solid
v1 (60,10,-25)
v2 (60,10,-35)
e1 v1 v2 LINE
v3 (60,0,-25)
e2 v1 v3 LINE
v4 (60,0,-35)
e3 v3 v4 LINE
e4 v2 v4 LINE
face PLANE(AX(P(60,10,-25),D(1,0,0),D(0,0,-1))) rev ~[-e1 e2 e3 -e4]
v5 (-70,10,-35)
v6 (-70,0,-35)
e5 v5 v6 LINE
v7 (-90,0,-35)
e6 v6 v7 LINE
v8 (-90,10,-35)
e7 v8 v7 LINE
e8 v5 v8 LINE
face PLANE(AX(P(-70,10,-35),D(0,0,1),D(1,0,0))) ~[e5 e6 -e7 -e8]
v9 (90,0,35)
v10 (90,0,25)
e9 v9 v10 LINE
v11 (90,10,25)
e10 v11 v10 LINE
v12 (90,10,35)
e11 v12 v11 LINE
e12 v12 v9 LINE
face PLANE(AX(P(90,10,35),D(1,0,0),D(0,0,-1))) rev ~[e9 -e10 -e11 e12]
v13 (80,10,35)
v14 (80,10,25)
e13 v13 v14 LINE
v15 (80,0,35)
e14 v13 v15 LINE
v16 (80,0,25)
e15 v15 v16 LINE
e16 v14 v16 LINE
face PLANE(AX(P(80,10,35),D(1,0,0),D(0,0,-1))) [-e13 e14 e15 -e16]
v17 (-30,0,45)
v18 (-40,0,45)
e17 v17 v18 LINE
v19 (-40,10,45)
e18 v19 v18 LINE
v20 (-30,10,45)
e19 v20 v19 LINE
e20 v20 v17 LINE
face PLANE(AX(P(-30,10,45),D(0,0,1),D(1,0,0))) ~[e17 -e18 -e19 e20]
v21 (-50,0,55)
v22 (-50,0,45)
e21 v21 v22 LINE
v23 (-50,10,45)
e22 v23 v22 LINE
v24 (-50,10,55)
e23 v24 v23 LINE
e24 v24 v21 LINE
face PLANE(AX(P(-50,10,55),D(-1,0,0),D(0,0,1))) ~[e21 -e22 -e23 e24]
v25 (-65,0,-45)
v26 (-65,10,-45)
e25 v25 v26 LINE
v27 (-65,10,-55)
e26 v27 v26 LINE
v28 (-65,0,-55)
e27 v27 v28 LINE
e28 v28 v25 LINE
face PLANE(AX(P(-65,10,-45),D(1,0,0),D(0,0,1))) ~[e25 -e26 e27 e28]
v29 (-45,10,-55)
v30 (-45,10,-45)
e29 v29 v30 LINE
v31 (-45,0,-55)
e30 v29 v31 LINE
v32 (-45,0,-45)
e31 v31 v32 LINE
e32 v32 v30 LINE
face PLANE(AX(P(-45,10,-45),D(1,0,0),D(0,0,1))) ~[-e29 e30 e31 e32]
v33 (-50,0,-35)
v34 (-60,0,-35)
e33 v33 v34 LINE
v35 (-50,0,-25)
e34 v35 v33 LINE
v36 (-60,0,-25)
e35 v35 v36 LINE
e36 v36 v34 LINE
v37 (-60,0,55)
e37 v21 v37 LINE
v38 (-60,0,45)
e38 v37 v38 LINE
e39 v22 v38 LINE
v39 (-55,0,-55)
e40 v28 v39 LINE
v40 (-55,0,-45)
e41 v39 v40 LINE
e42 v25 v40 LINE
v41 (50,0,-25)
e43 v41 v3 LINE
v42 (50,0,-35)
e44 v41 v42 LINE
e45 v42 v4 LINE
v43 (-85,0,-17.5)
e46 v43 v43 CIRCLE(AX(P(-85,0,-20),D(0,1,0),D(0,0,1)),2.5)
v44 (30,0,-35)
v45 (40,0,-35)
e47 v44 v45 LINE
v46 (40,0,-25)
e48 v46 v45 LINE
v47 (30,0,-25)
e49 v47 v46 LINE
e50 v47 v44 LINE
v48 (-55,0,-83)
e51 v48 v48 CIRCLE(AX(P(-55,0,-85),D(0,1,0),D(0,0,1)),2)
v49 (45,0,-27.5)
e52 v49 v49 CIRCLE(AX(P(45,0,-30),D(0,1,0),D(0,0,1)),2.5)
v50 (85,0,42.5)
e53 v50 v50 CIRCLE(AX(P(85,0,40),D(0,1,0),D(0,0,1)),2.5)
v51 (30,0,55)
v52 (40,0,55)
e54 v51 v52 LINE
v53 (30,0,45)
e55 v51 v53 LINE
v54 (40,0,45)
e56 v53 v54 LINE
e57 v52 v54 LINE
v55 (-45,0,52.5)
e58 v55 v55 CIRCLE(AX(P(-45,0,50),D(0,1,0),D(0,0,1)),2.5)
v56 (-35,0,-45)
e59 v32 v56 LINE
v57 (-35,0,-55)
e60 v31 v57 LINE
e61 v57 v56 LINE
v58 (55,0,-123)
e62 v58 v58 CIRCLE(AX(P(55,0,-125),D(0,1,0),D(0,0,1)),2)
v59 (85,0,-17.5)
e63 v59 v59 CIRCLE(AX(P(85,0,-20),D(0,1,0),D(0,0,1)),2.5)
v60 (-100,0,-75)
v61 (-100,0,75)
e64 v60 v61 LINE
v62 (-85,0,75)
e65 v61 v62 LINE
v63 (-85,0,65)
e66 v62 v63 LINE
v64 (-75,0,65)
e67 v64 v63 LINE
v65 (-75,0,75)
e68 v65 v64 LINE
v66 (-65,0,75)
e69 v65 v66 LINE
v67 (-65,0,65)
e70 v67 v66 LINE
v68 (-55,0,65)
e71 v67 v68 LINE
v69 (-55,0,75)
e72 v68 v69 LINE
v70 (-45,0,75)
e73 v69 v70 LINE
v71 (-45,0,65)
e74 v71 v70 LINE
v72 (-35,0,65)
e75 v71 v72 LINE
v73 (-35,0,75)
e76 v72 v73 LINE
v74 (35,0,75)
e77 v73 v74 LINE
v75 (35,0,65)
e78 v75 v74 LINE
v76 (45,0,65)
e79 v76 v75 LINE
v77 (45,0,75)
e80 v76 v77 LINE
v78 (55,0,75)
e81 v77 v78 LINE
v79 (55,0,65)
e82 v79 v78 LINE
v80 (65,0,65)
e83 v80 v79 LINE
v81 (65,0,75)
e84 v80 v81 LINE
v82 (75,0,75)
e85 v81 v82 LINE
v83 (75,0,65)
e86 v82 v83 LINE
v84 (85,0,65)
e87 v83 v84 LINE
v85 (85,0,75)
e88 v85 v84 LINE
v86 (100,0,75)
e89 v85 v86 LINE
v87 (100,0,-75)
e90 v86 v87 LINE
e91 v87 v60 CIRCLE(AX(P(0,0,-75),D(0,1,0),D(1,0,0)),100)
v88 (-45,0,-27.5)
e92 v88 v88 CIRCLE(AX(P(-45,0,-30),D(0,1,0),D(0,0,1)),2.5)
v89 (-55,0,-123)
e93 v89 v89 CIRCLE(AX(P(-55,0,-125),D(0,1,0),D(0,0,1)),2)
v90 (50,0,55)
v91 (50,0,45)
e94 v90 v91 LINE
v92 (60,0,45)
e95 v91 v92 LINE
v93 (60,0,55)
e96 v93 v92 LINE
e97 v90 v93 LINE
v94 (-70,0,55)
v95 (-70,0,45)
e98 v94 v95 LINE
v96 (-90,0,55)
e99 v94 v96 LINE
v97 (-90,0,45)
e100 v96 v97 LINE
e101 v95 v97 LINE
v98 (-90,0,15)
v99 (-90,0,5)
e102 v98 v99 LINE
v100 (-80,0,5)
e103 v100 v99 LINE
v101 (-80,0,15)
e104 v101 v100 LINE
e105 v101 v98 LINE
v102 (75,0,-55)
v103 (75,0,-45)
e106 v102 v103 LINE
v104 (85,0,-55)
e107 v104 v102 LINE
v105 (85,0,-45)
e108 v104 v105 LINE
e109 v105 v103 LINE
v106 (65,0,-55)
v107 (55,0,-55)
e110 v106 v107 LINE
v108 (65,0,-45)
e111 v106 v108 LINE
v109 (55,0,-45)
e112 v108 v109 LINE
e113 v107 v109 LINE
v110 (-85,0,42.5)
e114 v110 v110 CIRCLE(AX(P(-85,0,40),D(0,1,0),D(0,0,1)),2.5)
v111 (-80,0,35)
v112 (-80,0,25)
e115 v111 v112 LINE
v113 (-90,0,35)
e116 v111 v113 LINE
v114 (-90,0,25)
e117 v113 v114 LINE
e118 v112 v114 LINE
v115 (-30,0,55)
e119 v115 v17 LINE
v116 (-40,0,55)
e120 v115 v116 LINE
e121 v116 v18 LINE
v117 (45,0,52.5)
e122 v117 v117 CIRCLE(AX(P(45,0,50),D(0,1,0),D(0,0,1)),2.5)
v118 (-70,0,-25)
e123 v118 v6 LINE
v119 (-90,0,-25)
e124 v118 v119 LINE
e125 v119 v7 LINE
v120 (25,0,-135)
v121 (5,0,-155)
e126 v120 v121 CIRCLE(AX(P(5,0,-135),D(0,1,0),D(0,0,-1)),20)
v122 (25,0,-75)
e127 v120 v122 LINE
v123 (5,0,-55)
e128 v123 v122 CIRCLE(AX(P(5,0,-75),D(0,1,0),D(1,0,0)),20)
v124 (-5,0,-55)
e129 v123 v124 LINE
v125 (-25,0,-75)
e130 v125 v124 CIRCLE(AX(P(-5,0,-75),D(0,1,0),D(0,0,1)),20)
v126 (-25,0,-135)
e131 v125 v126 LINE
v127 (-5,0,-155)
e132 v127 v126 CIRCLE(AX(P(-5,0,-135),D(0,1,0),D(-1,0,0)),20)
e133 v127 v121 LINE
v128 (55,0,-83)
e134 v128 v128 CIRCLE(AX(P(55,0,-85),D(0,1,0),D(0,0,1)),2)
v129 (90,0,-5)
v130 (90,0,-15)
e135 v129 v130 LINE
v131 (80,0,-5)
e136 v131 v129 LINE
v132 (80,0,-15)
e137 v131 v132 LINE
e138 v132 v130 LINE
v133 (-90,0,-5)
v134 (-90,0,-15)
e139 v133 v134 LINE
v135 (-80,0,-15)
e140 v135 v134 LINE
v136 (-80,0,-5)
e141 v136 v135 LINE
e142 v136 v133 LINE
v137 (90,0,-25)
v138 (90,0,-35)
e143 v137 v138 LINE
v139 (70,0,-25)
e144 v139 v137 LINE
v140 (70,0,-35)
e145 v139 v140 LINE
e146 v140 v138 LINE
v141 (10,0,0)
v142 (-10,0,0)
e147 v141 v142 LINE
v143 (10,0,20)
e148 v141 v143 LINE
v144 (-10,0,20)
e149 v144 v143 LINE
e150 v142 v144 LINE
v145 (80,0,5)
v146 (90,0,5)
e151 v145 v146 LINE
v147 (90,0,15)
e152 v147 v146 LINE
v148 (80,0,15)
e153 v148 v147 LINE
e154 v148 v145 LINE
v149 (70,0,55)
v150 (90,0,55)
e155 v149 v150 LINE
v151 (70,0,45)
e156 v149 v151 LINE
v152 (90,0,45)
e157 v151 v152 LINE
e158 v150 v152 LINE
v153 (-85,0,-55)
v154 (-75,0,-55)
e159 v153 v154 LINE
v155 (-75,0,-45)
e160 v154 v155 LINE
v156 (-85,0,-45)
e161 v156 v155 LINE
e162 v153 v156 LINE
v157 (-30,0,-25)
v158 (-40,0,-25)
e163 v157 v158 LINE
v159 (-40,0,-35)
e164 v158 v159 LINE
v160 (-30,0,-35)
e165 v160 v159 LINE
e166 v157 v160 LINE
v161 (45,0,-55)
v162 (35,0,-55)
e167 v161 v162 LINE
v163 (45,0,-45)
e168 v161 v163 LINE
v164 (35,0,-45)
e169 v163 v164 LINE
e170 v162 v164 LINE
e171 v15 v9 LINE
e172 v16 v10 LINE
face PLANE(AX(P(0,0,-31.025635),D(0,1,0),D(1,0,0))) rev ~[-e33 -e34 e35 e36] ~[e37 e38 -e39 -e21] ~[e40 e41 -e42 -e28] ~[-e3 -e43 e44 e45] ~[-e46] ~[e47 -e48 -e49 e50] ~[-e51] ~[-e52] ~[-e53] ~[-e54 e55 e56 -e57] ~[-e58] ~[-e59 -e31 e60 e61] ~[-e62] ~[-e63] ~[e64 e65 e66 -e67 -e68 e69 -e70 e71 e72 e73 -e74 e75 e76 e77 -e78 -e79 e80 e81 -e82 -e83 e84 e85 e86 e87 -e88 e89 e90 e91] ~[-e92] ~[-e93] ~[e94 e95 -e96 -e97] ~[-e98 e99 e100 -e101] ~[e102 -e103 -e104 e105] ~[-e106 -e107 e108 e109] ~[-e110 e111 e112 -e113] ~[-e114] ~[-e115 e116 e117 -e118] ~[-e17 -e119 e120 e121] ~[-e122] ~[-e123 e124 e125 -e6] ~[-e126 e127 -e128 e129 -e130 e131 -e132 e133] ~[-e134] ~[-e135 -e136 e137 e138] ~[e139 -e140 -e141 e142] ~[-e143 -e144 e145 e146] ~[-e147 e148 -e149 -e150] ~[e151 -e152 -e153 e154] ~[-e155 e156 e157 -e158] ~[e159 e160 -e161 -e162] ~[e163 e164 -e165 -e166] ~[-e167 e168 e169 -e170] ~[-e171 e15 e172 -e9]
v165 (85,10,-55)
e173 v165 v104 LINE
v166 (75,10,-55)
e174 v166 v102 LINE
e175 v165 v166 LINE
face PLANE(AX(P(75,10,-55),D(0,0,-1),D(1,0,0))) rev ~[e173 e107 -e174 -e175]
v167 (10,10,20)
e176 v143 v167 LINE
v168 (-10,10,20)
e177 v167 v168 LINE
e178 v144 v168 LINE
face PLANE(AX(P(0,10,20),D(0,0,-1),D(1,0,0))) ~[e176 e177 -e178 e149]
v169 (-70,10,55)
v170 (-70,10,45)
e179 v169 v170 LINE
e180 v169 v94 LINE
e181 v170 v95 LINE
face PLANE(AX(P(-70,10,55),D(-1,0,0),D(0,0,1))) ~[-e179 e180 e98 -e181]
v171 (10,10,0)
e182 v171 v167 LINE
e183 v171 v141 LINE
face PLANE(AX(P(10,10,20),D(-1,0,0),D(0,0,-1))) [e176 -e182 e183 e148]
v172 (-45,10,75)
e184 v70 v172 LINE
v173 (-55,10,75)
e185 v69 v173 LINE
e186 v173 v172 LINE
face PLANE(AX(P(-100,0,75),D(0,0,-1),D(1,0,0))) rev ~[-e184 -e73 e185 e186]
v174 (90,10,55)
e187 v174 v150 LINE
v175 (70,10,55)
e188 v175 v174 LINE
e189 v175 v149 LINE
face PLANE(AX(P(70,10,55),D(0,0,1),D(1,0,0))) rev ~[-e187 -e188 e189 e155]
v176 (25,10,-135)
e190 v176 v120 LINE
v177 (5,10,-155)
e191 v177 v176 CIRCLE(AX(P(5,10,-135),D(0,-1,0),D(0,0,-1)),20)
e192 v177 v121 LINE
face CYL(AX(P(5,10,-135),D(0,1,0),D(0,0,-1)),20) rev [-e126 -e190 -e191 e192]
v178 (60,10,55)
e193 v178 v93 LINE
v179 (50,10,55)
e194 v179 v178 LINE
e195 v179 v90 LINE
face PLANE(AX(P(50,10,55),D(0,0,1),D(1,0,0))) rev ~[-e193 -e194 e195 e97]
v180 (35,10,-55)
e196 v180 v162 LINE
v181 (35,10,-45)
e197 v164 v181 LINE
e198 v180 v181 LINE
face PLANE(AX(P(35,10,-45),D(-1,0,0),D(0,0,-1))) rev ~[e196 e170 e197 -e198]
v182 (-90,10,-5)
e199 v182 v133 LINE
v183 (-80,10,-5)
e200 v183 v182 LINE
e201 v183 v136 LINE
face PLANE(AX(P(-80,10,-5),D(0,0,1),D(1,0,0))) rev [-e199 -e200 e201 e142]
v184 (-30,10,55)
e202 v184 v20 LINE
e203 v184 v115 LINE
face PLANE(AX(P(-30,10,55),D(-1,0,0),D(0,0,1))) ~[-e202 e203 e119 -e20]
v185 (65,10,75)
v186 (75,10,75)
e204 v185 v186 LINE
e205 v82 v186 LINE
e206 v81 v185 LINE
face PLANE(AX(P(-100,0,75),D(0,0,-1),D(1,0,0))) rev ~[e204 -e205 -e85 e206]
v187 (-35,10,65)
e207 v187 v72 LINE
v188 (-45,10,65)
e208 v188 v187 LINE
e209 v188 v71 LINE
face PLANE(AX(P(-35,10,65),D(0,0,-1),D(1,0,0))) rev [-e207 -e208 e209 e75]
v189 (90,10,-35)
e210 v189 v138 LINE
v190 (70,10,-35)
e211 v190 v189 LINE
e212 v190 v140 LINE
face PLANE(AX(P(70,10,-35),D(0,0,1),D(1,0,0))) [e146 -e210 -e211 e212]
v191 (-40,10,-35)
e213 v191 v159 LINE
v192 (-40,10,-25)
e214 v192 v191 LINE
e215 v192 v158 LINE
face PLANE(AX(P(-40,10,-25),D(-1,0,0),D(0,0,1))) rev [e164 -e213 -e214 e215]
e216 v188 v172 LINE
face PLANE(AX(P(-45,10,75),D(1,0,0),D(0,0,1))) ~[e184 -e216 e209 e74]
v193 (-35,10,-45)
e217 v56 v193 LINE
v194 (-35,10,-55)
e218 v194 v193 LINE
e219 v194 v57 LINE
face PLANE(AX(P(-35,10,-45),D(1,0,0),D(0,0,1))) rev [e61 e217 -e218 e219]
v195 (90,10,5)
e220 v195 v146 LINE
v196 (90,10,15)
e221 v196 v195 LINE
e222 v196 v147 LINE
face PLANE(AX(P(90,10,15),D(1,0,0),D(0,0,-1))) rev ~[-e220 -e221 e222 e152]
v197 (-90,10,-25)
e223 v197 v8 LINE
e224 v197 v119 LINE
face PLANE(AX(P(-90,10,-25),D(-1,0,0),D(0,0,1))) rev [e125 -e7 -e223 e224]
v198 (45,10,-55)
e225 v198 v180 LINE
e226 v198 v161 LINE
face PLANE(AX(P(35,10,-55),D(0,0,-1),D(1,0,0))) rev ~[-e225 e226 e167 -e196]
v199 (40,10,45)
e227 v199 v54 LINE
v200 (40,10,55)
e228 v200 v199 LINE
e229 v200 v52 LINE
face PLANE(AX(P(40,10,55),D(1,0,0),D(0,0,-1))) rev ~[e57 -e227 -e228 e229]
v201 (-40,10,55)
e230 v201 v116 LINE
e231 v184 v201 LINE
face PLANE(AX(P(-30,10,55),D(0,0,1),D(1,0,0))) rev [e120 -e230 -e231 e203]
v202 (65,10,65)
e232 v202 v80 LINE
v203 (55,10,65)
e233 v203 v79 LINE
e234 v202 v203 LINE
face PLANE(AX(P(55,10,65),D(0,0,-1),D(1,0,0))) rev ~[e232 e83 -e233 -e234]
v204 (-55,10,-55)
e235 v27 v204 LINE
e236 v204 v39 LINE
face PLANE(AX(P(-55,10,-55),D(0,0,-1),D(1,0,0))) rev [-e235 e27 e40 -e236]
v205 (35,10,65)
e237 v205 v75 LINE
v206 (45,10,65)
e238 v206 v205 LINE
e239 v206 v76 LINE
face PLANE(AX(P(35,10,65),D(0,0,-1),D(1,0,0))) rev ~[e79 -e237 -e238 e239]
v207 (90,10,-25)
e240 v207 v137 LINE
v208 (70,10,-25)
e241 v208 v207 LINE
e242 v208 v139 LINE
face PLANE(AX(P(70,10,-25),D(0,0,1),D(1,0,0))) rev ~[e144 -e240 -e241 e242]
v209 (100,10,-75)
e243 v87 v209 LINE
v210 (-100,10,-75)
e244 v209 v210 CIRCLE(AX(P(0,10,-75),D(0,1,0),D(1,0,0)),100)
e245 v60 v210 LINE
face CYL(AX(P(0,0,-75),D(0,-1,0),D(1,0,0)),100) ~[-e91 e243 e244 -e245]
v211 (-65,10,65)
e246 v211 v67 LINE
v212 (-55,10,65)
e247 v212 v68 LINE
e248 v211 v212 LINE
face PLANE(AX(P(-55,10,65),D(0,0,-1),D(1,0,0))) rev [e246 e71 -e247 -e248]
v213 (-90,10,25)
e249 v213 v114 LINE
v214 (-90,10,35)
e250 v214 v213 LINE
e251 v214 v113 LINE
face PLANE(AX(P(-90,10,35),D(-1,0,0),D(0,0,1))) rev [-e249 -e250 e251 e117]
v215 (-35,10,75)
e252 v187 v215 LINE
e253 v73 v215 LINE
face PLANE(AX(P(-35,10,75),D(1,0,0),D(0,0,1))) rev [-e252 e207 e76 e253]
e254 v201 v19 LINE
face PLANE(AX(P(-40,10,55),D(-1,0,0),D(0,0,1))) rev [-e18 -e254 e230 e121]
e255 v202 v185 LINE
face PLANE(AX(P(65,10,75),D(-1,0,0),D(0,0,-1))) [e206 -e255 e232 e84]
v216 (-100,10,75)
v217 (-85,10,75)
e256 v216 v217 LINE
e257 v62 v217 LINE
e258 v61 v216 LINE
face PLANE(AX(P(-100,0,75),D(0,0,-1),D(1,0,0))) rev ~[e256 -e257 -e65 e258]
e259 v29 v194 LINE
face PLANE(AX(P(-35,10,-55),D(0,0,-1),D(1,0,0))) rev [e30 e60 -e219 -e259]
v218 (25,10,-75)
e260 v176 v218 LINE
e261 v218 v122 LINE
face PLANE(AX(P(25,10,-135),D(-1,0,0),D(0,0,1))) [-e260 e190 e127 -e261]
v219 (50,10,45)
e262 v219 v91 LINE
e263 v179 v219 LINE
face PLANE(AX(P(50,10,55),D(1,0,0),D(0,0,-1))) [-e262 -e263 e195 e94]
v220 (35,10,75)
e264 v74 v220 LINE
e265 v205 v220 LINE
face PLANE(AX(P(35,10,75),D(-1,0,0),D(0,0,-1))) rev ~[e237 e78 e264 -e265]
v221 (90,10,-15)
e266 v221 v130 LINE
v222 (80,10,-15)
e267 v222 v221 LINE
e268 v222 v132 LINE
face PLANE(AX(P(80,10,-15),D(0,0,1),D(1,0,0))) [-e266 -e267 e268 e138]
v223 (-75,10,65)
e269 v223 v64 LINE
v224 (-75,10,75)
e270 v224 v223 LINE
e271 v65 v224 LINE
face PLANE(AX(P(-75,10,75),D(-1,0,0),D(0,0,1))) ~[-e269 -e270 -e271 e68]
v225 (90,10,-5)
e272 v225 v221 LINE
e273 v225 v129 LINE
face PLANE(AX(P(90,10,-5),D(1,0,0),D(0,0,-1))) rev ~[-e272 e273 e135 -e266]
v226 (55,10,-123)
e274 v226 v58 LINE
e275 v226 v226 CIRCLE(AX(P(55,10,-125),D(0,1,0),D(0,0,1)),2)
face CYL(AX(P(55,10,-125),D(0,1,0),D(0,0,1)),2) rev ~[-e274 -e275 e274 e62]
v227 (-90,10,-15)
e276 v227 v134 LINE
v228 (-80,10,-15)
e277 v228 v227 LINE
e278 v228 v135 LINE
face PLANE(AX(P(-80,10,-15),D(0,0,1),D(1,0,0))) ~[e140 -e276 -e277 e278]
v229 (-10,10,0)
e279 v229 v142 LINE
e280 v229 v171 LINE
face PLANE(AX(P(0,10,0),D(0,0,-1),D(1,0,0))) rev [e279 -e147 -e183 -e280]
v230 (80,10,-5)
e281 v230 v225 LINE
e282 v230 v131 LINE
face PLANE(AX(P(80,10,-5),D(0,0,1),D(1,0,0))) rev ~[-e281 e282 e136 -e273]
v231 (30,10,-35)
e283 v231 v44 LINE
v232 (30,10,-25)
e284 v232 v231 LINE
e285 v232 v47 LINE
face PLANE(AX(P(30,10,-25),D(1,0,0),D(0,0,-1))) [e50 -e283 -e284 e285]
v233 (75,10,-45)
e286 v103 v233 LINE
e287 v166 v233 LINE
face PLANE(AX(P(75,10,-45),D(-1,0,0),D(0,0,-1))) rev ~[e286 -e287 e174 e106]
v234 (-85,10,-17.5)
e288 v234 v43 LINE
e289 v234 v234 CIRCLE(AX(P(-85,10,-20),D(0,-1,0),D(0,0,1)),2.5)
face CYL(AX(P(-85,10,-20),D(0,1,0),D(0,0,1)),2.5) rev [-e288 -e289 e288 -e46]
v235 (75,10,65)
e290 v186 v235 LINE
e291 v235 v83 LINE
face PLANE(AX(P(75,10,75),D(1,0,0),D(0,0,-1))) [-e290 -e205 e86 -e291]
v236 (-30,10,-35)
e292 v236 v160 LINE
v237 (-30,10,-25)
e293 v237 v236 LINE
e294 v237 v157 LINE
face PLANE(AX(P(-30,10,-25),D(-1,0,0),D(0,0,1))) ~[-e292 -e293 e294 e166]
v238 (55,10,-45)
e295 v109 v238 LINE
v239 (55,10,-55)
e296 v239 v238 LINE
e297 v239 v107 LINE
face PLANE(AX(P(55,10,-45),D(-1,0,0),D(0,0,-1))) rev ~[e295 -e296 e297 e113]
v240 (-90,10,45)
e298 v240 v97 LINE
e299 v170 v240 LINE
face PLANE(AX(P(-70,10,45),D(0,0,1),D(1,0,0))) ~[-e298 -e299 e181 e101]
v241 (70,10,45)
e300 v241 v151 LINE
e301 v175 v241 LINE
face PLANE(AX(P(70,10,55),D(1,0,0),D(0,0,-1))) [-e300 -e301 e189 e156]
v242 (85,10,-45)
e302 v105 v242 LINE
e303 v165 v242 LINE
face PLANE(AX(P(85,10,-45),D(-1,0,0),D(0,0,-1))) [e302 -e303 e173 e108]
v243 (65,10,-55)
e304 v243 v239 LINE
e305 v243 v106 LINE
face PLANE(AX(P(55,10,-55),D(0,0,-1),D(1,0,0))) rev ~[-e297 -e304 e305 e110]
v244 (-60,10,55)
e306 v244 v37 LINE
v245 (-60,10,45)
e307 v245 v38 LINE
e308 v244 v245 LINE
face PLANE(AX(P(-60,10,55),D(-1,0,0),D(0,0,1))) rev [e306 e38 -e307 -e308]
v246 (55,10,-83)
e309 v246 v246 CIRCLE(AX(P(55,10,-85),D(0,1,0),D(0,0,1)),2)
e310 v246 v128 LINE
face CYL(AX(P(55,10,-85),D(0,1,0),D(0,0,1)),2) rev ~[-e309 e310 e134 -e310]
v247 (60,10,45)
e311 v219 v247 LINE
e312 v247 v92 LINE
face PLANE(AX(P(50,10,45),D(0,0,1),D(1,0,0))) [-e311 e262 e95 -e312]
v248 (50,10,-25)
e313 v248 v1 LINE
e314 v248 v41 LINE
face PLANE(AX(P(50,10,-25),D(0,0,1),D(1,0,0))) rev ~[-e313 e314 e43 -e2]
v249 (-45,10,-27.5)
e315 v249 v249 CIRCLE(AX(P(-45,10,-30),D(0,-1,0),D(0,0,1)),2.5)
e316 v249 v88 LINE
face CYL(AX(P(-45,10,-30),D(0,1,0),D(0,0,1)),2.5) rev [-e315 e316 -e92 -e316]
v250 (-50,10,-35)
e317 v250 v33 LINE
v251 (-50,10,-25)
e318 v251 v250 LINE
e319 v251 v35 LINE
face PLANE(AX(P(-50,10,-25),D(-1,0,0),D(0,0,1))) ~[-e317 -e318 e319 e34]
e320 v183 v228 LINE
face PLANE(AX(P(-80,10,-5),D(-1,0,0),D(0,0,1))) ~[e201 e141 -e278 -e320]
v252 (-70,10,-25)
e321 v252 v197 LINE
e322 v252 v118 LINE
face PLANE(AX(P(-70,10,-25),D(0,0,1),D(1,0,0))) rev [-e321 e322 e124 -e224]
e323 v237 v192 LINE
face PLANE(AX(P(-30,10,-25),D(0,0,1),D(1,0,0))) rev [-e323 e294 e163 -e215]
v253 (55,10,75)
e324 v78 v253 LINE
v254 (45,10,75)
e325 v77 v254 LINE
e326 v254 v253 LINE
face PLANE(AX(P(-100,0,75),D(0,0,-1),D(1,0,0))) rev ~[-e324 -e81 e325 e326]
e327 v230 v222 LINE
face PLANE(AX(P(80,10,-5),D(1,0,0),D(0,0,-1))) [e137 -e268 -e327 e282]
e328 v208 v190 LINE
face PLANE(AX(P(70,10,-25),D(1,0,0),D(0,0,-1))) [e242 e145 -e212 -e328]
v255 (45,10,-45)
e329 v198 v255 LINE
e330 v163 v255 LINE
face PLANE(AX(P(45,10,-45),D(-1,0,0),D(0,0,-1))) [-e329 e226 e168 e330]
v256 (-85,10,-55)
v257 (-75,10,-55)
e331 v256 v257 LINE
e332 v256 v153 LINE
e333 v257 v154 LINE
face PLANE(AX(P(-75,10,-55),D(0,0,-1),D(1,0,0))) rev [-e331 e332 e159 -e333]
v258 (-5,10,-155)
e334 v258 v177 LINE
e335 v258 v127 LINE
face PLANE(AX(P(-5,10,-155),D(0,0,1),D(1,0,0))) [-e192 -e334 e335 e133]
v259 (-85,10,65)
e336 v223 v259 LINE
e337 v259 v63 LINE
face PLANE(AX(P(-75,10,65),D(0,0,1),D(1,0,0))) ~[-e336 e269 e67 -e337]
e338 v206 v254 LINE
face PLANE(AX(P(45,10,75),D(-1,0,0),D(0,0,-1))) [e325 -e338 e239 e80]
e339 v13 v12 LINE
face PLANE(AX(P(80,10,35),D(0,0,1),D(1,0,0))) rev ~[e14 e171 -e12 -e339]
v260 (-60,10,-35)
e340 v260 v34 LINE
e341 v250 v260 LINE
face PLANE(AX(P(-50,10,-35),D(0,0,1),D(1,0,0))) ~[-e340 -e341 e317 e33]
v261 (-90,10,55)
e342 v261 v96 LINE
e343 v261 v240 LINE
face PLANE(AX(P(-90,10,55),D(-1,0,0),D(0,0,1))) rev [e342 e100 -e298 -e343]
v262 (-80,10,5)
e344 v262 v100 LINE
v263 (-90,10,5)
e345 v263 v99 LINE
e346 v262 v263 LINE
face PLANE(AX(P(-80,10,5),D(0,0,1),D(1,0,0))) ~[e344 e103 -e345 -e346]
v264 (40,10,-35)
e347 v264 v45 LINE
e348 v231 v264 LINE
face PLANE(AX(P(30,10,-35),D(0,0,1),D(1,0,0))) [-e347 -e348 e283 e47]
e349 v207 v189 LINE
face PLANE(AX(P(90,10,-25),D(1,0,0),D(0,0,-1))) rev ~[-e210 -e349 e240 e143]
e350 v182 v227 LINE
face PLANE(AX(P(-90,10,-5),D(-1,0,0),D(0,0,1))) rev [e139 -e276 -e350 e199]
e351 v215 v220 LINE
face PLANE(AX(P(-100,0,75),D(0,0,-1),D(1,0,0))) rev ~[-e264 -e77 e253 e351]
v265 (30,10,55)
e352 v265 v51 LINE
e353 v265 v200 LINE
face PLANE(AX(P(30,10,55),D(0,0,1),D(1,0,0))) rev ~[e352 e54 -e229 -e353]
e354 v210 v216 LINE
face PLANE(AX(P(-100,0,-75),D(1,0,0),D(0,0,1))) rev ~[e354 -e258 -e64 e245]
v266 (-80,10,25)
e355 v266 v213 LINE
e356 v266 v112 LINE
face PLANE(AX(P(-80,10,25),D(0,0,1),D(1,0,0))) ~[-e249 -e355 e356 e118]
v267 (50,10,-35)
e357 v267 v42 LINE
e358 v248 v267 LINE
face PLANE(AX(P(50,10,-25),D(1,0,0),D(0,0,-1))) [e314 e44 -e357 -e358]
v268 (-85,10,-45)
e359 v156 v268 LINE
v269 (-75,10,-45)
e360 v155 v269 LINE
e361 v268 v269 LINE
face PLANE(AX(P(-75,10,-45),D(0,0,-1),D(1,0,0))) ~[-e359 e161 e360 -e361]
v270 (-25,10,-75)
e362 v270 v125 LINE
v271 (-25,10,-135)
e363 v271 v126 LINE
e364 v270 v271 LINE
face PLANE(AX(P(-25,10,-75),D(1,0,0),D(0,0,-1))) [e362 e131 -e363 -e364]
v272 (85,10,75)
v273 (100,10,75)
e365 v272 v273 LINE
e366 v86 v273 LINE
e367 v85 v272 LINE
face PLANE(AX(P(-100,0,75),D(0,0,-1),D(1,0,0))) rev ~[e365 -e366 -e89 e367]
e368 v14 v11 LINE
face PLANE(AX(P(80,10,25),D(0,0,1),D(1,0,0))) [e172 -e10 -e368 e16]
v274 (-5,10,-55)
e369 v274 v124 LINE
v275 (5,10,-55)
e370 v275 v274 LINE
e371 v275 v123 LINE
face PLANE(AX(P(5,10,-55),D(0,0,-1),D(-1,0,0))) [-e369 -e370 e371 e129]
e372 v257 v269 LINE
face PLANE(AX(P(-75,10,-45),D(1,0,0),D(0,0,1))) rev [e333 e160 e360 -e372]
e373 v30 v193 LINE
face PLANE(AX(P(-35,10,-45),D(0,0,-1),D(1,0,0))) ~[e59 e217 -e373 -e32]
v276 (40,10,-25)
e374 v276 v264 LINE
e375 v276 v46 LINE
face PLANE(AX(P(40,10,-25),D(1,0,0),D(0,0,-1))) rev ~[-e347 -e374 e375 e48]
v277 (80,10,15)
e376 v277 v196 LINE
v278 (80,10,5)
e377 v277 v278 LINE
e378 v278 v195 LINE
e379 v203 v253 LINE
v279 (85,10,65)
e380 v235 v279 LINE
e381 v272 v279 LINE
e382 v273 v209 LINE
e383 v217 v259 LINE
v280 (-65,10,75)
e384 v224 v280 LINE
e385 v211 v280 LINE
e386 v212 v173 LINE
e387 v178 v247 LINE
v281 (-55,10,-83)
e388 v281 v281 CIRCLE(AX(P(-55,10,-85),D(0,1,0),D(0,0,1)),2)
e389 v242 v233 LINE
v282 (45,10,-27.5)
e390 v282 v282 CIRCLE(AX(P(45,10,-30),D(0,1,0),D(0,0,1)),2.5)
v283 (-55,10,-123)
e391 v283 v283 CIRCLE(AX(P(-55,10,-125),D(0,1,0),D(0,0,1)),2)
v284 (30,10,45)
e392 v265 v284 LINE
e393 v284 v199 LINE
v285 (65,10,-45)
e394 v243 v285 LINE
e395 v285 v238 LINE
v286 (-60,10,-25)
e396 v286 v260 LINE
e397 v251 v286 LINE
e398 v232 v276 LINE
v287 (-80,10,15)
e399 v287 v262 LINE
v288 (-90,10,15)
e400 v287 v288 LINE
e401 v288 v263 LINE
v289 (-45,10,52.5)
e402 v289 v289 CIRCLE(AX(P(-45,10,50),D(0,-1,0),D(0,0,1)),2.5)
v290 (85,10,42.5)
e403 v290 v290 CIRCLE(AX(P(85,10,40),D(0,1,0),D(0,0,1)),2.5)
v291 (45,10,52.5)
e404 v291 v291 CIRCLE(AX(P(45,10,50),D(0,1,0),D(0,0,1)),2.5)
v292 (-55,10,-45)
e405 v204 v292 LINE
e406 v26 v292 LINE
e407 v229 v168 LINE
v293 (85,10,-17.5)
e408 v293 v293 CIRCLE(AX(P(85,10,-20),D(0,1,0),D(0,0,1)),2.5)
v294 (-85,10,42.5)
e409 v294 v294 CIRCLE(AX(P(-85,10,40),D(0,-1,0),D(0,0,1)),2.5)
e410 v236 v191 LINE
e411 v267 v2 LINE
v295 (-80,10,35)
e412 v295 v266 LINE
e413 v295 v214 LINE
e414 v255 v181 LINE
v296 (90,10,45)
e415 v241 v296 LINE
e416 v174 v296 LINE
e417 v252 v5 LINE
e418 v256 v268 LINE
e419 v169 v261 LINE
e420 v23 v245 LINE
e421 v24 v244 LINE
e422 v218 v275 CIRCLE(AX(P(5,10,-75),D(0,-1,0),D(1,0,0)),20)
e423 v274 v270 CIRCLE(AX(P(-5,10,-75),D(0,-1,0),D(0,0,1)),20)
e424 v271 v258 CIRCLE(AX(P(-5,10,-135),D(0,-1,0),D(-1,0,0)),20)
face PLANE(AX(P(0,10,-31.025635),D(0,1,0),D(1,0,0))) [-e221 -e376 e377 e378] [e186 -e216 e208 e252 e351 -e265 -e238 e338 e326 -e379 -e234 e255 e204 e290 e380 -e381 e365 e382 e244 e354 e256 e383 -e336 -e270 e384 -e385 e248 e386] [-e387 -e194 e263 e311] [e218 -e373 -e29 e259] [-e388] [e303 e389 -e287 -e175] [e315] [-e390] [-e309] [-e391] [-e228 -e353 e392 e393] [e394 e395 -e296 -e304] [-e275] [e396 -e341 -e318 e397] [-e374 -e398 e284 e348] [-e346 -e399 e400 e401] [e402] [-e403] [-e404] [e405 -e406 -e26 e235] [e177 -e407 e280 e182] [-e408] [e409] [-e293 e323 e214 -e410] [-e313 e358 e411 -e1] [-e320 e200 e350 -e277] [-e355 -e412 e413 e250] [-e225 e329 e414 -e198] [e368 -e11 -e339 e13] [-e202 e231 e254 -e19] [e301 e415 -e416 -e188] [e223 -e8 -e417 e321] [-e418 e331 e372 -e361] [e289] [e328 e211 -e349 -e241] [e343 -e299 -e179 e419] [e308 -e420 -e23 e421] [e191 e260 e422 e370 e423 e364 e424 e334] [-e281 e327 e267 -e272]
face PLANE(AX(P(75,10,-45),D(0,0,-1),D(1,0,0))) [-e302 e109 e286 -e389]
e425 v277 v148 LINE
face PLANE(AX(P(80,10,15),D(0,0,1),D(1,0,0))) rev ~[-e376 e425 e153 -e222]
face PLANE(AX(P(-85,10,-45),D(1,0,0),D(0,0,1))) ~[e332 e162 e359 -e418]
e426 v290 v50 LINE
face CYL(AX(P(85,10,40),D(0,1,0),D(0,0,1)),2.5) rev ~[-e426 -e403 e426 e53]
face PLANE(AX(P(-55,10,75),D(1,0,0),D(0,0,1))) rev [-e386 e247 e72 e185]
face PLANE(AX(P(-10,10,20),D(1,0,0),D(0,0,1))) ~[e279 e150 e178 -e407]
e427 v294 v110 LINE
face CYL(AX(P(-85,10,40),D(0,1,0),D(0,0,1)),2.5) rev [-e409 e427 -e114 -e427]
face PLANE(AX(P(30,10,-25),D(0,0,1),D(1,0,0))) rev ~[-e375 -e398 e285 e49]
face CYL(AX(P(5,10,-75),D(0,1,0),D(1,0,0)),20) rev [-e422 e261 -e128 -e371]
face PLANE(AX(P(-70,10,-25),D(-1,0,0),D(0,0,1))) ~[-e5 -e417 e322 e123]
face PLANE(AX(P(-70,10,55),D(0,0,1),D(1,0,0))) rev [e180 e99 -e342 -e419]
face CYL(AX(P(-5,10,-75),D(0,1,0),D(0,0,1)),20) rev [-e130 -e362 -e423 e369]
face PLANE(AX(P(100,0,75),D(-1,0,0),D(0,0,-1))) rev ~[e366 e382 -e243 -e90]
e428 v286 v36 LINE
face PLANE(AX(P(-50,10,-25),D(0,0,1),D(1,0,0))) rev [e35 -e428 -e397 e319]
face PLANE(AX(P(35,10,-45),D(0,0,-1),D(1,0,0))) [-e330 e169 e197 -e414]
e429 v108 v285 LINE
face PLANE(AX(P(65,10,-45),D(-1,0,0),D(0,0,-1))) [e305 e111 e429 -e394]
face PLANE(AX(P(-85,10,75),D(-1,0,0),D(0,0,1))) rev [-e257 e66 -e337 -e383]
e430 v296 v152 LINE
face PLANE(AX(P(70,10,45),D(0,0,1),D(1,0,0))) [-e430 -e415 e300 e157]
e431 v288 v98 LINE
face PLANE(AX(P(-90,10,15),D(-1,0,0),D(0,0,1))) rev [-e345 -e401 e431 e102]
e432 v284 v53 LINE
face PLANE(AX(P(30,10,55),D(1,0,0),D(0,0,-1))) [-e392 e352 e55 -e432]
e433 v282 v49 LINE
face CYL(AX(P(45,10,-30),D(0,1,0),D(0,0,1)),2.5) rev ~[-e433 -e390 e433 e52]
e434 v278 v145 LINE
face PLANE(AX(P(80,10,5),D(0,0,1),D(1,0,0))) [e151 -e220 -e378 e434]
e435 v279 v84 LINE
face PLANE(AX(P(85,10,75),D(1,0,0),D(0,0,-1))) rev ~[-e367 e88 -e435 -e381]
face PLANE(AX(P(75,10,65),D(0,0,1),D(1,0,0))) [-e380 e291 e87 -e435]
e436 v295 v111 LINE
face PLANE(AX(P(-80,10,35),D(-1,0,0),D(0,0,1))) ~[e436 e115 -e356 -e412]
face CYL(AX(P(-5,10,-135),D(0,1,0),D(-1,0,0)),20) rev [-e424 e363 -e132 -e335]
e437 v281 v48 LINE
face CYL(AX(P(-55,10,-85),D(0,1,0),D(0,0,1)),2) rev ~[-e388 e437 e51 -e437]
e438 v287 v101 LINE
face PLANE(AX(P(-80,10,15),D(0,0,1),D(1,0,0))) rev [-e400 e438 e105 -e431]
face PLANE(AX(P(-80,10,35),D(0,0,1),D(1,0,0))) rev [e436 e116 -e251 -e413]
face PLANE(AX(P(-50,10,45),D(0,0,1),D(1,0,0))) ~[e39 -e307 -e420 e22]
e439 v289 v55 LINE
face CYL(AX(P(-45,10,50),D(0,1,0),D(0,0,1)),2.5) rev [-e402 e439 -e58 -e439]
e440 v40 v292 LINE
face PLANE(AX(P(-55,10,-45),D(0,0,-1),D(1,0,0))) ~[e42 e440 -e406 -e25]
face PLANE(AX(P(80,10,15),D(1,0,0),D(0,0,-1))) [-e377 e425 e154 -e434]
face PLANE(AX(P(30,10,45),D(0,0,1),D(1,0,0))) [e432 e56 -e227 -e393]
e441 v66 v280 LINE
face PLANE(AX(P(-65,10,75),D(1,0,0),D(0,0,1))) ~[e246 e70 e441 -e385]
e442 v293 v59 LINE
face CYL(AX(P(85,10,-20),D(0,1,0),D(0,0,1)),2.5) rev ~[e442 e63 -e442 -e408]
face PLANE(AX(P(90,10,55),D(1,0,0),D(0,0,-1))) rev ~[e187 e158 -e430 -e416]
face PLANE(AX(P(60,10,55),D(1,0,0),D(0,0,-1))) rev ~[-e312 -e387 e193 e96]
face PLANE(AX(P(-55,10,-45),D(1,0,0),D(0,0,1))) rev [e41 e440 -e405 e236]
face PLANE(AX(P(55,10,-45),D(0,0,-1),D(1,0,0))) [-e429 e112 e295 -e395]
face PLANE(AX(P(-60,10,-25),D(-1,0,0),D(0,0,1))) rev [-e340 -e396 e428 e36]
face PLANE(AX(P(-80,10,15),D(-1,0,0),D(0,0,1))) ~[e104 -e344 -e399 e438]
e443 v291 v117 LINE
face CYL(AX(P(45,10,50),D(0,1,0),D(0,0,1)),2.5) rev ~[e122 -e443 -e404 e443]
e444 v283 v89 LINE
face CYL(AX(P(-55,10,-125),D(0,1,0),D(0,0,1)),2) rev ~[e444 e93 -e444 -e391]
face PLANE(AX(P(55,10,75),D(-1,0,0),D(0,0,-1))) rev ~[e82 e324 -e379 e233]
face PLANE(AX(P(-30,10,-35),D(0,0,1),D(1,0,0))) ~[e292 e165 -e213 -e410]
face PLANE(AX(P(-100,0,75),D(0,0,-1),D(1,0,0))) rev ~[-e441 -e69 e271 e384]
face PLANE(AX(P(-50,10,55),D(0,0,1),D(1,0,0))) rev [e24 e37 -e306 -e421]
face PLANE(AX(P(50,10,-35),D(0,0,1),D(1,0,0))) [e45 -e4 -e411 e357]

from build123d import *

# Parameters (mm, degrees)
BOSS_EXTRUDE1_DEPTH = 10
SKETCH2_R           = 2.5
SKETCH2_W           = 10
SKETCH2_H           = 10
SKETCH2_W_2         = 20
CUT_EXTRUDE1_DEPTH  = 202.804360706
SKETCH4_R           = 2
CUT_EXTRUDE2_DEPTH  = 202.804360706
SKETCH5_W           = 10
SKETCH5_H           = 10
SKETCH5_H_2         = 20
CUT_EXTRUDE3_DEPTH  = 202.804360706


with BuildPart() as part:
    # Sketch3 → Boss-Extrude1 (new body)
    with BuildSketch(Plane(origin=(0, 0, 0), x_dir=(1, 0, 0), z_dir=(0, 1, 0))):
        with BuildLine():
            Line((-100, -75), (100, -75))
            Line((100, -75), (100, 75))
            ThreePointArc((100, 75), (0, 175), (-100, 75))
            Line((-100, 75), (-100, -75))
        make_face()
    extrude(amount=BOSS_EXTRUDE1_DEPTH)

    # Sketch2 → Cut-Extrude1 (cut, through all)
    with BuildSketch(Plane(origin=(0, 10, 0), x_dir=(1, 0, 0), z_dir=(0, 1, 0))):
        with Locations(Location((45, 30, 0), (0, 0, 270))):
            Circle(SKETCH2_R)
        with Locations(Location((45, -50, 0), (0, 0, 270))):
            Circle(SKETCH2_R)
        with Locations(Location((85, -40, 0), (0, 0, 270))):
            Circle(SKETCH2_R)
        with Locations(Location((85, 20, 0), (0, 0, 270))):
            Circle(SKETCH2_R)
        with Locations((35, -50)):
            Rectangle(SKETCH2_W, SKETCH2_H)
        with Locations((55, -50)):
            Rectangle(SKETCH2_W, SKETCH2_H)
        with Locations((80, -50)):
            Rectangle(SKETCH2_W_2, SKETCH2_H)
        with Locations((85, -30)):
            Rectangle(SKETCH2_W, SKETCH2_H)
        with Locations((85, -10)):
            Rectangle(SKETCH2_W, SKETCH2_H)
        with Locations((85, 10)):
            Rectangle(SKETCH2_W, SKETCH2_H)
        with Locations((80, 30)):
            Rectangle(SKETCH2_W_2, SKETCH2_H)
        with Locations((55, 30)):
            Rectangle(SKETCH2_W, SKETCH2_H)
        with Locations((35, 30)):
            Rectangle(SKETCH2_W, SKETCH2_H)
    cut_extrude1 = extrude(amount=-CUT_EXTRUDE1_DEPTH, mode=Mode.SUBTRACT)

    # Mirror1: Cut-Extrude1 across plane
    add(cut_extrude1.mirror(Plane(origin=(0, 0, 0), x_dir=(0, 0, 1), z_dir=(1, 0, 0))), mode=Mode.SUBTRACT)

    # Sketch4 → Cut-Extrude2 (cut, through all)
    with BuildSketch(Plane(origin=(0, 10, 0), x_dir=(1, 0, 0), z_dir=(0, 1, 0))):
        with Locations(Location((55, 125, 0), (0, 0, 270))):
            Circle(SKETCH4_R)
        with Locations(Location((55, 85, 0), (0, 0, 270))):
            Circle(SKETCH4_R)
        with Locations(Location((-55, 125, 0), (0, 0, 270))):
            Circle(SKETCH4_R)
        with Locations(Location((-55, 85, 0), (0, 0, 270))):
            Circle(SKETCH4_R)
        with BuildLine():
            Line((-5, 155), (5, 155))
            ThreePointArc((5, 155), (19.142135624, 149.142135624), (25, 135))
            Line((25, 135), (25, 75))
            ThreePointArc((25, 75), (19.142135624, 60.857864376), (5, 55))
            Line((5, 55), (-5, 55))
            ThreePointArc((-5, 55), (-19.142135624, 60.857864376), (-25, 75))
            Line((-25, 75), (-25, 135))
            ThreePointArc((-25, 135), (-19.142135624, 149.142135624), (-5, 155))
        make_face()
    extrude(amount=-CUT_EXTRUDE2_DEPTH, mode=Mode.SUBTRACT)

    # Sketch5 → Cut-Extrude3 (cut, symmetric)
    with BuildSketch(Plane(origin=(0, 10, 0), x_dir=(1, 0, 0), z_dir=(0, 1, 0))):
        with Locations((80, 50)):
            Rectangle(SKETCH5_W, SKETCH5_H)
        with Locations((60, 50)):
            Rectangle(SKETCH5_W, SKETCH5_H)
        with Locations((40, 50)):
            Rectangle(SKETCH5_W, SKETCH5_H)
        with Locations((5, -10)):
            Rectangle(SKETCH5_W, SKETCH5_H_2)
        with Locations((40, -70)):
            Rectangle(SKETCH5_W, SKETCH5_H)
        with Locations((60, -70)):
            Rectangle(SKETCH5_W, SKETCH5_H)
        with Locations((80, -70)):
            Rectangle(SKETCH5_W, SKETCH5_H)
    cut_extrude3 = extrude(amount=CUT_EXTRUDE3_DEPTH, both=True, mode=Mode.SUBTRACT)

    # Mirror2: Cut-Extrude3 across plane
    add(cut_extrude3.mirror(Plane(origin=(0, 0, 0), x_dir=(0, 0, 1), z_dir=(1, 0, 0))), mode=Mode.SUBTRACT)


solid = part.part
